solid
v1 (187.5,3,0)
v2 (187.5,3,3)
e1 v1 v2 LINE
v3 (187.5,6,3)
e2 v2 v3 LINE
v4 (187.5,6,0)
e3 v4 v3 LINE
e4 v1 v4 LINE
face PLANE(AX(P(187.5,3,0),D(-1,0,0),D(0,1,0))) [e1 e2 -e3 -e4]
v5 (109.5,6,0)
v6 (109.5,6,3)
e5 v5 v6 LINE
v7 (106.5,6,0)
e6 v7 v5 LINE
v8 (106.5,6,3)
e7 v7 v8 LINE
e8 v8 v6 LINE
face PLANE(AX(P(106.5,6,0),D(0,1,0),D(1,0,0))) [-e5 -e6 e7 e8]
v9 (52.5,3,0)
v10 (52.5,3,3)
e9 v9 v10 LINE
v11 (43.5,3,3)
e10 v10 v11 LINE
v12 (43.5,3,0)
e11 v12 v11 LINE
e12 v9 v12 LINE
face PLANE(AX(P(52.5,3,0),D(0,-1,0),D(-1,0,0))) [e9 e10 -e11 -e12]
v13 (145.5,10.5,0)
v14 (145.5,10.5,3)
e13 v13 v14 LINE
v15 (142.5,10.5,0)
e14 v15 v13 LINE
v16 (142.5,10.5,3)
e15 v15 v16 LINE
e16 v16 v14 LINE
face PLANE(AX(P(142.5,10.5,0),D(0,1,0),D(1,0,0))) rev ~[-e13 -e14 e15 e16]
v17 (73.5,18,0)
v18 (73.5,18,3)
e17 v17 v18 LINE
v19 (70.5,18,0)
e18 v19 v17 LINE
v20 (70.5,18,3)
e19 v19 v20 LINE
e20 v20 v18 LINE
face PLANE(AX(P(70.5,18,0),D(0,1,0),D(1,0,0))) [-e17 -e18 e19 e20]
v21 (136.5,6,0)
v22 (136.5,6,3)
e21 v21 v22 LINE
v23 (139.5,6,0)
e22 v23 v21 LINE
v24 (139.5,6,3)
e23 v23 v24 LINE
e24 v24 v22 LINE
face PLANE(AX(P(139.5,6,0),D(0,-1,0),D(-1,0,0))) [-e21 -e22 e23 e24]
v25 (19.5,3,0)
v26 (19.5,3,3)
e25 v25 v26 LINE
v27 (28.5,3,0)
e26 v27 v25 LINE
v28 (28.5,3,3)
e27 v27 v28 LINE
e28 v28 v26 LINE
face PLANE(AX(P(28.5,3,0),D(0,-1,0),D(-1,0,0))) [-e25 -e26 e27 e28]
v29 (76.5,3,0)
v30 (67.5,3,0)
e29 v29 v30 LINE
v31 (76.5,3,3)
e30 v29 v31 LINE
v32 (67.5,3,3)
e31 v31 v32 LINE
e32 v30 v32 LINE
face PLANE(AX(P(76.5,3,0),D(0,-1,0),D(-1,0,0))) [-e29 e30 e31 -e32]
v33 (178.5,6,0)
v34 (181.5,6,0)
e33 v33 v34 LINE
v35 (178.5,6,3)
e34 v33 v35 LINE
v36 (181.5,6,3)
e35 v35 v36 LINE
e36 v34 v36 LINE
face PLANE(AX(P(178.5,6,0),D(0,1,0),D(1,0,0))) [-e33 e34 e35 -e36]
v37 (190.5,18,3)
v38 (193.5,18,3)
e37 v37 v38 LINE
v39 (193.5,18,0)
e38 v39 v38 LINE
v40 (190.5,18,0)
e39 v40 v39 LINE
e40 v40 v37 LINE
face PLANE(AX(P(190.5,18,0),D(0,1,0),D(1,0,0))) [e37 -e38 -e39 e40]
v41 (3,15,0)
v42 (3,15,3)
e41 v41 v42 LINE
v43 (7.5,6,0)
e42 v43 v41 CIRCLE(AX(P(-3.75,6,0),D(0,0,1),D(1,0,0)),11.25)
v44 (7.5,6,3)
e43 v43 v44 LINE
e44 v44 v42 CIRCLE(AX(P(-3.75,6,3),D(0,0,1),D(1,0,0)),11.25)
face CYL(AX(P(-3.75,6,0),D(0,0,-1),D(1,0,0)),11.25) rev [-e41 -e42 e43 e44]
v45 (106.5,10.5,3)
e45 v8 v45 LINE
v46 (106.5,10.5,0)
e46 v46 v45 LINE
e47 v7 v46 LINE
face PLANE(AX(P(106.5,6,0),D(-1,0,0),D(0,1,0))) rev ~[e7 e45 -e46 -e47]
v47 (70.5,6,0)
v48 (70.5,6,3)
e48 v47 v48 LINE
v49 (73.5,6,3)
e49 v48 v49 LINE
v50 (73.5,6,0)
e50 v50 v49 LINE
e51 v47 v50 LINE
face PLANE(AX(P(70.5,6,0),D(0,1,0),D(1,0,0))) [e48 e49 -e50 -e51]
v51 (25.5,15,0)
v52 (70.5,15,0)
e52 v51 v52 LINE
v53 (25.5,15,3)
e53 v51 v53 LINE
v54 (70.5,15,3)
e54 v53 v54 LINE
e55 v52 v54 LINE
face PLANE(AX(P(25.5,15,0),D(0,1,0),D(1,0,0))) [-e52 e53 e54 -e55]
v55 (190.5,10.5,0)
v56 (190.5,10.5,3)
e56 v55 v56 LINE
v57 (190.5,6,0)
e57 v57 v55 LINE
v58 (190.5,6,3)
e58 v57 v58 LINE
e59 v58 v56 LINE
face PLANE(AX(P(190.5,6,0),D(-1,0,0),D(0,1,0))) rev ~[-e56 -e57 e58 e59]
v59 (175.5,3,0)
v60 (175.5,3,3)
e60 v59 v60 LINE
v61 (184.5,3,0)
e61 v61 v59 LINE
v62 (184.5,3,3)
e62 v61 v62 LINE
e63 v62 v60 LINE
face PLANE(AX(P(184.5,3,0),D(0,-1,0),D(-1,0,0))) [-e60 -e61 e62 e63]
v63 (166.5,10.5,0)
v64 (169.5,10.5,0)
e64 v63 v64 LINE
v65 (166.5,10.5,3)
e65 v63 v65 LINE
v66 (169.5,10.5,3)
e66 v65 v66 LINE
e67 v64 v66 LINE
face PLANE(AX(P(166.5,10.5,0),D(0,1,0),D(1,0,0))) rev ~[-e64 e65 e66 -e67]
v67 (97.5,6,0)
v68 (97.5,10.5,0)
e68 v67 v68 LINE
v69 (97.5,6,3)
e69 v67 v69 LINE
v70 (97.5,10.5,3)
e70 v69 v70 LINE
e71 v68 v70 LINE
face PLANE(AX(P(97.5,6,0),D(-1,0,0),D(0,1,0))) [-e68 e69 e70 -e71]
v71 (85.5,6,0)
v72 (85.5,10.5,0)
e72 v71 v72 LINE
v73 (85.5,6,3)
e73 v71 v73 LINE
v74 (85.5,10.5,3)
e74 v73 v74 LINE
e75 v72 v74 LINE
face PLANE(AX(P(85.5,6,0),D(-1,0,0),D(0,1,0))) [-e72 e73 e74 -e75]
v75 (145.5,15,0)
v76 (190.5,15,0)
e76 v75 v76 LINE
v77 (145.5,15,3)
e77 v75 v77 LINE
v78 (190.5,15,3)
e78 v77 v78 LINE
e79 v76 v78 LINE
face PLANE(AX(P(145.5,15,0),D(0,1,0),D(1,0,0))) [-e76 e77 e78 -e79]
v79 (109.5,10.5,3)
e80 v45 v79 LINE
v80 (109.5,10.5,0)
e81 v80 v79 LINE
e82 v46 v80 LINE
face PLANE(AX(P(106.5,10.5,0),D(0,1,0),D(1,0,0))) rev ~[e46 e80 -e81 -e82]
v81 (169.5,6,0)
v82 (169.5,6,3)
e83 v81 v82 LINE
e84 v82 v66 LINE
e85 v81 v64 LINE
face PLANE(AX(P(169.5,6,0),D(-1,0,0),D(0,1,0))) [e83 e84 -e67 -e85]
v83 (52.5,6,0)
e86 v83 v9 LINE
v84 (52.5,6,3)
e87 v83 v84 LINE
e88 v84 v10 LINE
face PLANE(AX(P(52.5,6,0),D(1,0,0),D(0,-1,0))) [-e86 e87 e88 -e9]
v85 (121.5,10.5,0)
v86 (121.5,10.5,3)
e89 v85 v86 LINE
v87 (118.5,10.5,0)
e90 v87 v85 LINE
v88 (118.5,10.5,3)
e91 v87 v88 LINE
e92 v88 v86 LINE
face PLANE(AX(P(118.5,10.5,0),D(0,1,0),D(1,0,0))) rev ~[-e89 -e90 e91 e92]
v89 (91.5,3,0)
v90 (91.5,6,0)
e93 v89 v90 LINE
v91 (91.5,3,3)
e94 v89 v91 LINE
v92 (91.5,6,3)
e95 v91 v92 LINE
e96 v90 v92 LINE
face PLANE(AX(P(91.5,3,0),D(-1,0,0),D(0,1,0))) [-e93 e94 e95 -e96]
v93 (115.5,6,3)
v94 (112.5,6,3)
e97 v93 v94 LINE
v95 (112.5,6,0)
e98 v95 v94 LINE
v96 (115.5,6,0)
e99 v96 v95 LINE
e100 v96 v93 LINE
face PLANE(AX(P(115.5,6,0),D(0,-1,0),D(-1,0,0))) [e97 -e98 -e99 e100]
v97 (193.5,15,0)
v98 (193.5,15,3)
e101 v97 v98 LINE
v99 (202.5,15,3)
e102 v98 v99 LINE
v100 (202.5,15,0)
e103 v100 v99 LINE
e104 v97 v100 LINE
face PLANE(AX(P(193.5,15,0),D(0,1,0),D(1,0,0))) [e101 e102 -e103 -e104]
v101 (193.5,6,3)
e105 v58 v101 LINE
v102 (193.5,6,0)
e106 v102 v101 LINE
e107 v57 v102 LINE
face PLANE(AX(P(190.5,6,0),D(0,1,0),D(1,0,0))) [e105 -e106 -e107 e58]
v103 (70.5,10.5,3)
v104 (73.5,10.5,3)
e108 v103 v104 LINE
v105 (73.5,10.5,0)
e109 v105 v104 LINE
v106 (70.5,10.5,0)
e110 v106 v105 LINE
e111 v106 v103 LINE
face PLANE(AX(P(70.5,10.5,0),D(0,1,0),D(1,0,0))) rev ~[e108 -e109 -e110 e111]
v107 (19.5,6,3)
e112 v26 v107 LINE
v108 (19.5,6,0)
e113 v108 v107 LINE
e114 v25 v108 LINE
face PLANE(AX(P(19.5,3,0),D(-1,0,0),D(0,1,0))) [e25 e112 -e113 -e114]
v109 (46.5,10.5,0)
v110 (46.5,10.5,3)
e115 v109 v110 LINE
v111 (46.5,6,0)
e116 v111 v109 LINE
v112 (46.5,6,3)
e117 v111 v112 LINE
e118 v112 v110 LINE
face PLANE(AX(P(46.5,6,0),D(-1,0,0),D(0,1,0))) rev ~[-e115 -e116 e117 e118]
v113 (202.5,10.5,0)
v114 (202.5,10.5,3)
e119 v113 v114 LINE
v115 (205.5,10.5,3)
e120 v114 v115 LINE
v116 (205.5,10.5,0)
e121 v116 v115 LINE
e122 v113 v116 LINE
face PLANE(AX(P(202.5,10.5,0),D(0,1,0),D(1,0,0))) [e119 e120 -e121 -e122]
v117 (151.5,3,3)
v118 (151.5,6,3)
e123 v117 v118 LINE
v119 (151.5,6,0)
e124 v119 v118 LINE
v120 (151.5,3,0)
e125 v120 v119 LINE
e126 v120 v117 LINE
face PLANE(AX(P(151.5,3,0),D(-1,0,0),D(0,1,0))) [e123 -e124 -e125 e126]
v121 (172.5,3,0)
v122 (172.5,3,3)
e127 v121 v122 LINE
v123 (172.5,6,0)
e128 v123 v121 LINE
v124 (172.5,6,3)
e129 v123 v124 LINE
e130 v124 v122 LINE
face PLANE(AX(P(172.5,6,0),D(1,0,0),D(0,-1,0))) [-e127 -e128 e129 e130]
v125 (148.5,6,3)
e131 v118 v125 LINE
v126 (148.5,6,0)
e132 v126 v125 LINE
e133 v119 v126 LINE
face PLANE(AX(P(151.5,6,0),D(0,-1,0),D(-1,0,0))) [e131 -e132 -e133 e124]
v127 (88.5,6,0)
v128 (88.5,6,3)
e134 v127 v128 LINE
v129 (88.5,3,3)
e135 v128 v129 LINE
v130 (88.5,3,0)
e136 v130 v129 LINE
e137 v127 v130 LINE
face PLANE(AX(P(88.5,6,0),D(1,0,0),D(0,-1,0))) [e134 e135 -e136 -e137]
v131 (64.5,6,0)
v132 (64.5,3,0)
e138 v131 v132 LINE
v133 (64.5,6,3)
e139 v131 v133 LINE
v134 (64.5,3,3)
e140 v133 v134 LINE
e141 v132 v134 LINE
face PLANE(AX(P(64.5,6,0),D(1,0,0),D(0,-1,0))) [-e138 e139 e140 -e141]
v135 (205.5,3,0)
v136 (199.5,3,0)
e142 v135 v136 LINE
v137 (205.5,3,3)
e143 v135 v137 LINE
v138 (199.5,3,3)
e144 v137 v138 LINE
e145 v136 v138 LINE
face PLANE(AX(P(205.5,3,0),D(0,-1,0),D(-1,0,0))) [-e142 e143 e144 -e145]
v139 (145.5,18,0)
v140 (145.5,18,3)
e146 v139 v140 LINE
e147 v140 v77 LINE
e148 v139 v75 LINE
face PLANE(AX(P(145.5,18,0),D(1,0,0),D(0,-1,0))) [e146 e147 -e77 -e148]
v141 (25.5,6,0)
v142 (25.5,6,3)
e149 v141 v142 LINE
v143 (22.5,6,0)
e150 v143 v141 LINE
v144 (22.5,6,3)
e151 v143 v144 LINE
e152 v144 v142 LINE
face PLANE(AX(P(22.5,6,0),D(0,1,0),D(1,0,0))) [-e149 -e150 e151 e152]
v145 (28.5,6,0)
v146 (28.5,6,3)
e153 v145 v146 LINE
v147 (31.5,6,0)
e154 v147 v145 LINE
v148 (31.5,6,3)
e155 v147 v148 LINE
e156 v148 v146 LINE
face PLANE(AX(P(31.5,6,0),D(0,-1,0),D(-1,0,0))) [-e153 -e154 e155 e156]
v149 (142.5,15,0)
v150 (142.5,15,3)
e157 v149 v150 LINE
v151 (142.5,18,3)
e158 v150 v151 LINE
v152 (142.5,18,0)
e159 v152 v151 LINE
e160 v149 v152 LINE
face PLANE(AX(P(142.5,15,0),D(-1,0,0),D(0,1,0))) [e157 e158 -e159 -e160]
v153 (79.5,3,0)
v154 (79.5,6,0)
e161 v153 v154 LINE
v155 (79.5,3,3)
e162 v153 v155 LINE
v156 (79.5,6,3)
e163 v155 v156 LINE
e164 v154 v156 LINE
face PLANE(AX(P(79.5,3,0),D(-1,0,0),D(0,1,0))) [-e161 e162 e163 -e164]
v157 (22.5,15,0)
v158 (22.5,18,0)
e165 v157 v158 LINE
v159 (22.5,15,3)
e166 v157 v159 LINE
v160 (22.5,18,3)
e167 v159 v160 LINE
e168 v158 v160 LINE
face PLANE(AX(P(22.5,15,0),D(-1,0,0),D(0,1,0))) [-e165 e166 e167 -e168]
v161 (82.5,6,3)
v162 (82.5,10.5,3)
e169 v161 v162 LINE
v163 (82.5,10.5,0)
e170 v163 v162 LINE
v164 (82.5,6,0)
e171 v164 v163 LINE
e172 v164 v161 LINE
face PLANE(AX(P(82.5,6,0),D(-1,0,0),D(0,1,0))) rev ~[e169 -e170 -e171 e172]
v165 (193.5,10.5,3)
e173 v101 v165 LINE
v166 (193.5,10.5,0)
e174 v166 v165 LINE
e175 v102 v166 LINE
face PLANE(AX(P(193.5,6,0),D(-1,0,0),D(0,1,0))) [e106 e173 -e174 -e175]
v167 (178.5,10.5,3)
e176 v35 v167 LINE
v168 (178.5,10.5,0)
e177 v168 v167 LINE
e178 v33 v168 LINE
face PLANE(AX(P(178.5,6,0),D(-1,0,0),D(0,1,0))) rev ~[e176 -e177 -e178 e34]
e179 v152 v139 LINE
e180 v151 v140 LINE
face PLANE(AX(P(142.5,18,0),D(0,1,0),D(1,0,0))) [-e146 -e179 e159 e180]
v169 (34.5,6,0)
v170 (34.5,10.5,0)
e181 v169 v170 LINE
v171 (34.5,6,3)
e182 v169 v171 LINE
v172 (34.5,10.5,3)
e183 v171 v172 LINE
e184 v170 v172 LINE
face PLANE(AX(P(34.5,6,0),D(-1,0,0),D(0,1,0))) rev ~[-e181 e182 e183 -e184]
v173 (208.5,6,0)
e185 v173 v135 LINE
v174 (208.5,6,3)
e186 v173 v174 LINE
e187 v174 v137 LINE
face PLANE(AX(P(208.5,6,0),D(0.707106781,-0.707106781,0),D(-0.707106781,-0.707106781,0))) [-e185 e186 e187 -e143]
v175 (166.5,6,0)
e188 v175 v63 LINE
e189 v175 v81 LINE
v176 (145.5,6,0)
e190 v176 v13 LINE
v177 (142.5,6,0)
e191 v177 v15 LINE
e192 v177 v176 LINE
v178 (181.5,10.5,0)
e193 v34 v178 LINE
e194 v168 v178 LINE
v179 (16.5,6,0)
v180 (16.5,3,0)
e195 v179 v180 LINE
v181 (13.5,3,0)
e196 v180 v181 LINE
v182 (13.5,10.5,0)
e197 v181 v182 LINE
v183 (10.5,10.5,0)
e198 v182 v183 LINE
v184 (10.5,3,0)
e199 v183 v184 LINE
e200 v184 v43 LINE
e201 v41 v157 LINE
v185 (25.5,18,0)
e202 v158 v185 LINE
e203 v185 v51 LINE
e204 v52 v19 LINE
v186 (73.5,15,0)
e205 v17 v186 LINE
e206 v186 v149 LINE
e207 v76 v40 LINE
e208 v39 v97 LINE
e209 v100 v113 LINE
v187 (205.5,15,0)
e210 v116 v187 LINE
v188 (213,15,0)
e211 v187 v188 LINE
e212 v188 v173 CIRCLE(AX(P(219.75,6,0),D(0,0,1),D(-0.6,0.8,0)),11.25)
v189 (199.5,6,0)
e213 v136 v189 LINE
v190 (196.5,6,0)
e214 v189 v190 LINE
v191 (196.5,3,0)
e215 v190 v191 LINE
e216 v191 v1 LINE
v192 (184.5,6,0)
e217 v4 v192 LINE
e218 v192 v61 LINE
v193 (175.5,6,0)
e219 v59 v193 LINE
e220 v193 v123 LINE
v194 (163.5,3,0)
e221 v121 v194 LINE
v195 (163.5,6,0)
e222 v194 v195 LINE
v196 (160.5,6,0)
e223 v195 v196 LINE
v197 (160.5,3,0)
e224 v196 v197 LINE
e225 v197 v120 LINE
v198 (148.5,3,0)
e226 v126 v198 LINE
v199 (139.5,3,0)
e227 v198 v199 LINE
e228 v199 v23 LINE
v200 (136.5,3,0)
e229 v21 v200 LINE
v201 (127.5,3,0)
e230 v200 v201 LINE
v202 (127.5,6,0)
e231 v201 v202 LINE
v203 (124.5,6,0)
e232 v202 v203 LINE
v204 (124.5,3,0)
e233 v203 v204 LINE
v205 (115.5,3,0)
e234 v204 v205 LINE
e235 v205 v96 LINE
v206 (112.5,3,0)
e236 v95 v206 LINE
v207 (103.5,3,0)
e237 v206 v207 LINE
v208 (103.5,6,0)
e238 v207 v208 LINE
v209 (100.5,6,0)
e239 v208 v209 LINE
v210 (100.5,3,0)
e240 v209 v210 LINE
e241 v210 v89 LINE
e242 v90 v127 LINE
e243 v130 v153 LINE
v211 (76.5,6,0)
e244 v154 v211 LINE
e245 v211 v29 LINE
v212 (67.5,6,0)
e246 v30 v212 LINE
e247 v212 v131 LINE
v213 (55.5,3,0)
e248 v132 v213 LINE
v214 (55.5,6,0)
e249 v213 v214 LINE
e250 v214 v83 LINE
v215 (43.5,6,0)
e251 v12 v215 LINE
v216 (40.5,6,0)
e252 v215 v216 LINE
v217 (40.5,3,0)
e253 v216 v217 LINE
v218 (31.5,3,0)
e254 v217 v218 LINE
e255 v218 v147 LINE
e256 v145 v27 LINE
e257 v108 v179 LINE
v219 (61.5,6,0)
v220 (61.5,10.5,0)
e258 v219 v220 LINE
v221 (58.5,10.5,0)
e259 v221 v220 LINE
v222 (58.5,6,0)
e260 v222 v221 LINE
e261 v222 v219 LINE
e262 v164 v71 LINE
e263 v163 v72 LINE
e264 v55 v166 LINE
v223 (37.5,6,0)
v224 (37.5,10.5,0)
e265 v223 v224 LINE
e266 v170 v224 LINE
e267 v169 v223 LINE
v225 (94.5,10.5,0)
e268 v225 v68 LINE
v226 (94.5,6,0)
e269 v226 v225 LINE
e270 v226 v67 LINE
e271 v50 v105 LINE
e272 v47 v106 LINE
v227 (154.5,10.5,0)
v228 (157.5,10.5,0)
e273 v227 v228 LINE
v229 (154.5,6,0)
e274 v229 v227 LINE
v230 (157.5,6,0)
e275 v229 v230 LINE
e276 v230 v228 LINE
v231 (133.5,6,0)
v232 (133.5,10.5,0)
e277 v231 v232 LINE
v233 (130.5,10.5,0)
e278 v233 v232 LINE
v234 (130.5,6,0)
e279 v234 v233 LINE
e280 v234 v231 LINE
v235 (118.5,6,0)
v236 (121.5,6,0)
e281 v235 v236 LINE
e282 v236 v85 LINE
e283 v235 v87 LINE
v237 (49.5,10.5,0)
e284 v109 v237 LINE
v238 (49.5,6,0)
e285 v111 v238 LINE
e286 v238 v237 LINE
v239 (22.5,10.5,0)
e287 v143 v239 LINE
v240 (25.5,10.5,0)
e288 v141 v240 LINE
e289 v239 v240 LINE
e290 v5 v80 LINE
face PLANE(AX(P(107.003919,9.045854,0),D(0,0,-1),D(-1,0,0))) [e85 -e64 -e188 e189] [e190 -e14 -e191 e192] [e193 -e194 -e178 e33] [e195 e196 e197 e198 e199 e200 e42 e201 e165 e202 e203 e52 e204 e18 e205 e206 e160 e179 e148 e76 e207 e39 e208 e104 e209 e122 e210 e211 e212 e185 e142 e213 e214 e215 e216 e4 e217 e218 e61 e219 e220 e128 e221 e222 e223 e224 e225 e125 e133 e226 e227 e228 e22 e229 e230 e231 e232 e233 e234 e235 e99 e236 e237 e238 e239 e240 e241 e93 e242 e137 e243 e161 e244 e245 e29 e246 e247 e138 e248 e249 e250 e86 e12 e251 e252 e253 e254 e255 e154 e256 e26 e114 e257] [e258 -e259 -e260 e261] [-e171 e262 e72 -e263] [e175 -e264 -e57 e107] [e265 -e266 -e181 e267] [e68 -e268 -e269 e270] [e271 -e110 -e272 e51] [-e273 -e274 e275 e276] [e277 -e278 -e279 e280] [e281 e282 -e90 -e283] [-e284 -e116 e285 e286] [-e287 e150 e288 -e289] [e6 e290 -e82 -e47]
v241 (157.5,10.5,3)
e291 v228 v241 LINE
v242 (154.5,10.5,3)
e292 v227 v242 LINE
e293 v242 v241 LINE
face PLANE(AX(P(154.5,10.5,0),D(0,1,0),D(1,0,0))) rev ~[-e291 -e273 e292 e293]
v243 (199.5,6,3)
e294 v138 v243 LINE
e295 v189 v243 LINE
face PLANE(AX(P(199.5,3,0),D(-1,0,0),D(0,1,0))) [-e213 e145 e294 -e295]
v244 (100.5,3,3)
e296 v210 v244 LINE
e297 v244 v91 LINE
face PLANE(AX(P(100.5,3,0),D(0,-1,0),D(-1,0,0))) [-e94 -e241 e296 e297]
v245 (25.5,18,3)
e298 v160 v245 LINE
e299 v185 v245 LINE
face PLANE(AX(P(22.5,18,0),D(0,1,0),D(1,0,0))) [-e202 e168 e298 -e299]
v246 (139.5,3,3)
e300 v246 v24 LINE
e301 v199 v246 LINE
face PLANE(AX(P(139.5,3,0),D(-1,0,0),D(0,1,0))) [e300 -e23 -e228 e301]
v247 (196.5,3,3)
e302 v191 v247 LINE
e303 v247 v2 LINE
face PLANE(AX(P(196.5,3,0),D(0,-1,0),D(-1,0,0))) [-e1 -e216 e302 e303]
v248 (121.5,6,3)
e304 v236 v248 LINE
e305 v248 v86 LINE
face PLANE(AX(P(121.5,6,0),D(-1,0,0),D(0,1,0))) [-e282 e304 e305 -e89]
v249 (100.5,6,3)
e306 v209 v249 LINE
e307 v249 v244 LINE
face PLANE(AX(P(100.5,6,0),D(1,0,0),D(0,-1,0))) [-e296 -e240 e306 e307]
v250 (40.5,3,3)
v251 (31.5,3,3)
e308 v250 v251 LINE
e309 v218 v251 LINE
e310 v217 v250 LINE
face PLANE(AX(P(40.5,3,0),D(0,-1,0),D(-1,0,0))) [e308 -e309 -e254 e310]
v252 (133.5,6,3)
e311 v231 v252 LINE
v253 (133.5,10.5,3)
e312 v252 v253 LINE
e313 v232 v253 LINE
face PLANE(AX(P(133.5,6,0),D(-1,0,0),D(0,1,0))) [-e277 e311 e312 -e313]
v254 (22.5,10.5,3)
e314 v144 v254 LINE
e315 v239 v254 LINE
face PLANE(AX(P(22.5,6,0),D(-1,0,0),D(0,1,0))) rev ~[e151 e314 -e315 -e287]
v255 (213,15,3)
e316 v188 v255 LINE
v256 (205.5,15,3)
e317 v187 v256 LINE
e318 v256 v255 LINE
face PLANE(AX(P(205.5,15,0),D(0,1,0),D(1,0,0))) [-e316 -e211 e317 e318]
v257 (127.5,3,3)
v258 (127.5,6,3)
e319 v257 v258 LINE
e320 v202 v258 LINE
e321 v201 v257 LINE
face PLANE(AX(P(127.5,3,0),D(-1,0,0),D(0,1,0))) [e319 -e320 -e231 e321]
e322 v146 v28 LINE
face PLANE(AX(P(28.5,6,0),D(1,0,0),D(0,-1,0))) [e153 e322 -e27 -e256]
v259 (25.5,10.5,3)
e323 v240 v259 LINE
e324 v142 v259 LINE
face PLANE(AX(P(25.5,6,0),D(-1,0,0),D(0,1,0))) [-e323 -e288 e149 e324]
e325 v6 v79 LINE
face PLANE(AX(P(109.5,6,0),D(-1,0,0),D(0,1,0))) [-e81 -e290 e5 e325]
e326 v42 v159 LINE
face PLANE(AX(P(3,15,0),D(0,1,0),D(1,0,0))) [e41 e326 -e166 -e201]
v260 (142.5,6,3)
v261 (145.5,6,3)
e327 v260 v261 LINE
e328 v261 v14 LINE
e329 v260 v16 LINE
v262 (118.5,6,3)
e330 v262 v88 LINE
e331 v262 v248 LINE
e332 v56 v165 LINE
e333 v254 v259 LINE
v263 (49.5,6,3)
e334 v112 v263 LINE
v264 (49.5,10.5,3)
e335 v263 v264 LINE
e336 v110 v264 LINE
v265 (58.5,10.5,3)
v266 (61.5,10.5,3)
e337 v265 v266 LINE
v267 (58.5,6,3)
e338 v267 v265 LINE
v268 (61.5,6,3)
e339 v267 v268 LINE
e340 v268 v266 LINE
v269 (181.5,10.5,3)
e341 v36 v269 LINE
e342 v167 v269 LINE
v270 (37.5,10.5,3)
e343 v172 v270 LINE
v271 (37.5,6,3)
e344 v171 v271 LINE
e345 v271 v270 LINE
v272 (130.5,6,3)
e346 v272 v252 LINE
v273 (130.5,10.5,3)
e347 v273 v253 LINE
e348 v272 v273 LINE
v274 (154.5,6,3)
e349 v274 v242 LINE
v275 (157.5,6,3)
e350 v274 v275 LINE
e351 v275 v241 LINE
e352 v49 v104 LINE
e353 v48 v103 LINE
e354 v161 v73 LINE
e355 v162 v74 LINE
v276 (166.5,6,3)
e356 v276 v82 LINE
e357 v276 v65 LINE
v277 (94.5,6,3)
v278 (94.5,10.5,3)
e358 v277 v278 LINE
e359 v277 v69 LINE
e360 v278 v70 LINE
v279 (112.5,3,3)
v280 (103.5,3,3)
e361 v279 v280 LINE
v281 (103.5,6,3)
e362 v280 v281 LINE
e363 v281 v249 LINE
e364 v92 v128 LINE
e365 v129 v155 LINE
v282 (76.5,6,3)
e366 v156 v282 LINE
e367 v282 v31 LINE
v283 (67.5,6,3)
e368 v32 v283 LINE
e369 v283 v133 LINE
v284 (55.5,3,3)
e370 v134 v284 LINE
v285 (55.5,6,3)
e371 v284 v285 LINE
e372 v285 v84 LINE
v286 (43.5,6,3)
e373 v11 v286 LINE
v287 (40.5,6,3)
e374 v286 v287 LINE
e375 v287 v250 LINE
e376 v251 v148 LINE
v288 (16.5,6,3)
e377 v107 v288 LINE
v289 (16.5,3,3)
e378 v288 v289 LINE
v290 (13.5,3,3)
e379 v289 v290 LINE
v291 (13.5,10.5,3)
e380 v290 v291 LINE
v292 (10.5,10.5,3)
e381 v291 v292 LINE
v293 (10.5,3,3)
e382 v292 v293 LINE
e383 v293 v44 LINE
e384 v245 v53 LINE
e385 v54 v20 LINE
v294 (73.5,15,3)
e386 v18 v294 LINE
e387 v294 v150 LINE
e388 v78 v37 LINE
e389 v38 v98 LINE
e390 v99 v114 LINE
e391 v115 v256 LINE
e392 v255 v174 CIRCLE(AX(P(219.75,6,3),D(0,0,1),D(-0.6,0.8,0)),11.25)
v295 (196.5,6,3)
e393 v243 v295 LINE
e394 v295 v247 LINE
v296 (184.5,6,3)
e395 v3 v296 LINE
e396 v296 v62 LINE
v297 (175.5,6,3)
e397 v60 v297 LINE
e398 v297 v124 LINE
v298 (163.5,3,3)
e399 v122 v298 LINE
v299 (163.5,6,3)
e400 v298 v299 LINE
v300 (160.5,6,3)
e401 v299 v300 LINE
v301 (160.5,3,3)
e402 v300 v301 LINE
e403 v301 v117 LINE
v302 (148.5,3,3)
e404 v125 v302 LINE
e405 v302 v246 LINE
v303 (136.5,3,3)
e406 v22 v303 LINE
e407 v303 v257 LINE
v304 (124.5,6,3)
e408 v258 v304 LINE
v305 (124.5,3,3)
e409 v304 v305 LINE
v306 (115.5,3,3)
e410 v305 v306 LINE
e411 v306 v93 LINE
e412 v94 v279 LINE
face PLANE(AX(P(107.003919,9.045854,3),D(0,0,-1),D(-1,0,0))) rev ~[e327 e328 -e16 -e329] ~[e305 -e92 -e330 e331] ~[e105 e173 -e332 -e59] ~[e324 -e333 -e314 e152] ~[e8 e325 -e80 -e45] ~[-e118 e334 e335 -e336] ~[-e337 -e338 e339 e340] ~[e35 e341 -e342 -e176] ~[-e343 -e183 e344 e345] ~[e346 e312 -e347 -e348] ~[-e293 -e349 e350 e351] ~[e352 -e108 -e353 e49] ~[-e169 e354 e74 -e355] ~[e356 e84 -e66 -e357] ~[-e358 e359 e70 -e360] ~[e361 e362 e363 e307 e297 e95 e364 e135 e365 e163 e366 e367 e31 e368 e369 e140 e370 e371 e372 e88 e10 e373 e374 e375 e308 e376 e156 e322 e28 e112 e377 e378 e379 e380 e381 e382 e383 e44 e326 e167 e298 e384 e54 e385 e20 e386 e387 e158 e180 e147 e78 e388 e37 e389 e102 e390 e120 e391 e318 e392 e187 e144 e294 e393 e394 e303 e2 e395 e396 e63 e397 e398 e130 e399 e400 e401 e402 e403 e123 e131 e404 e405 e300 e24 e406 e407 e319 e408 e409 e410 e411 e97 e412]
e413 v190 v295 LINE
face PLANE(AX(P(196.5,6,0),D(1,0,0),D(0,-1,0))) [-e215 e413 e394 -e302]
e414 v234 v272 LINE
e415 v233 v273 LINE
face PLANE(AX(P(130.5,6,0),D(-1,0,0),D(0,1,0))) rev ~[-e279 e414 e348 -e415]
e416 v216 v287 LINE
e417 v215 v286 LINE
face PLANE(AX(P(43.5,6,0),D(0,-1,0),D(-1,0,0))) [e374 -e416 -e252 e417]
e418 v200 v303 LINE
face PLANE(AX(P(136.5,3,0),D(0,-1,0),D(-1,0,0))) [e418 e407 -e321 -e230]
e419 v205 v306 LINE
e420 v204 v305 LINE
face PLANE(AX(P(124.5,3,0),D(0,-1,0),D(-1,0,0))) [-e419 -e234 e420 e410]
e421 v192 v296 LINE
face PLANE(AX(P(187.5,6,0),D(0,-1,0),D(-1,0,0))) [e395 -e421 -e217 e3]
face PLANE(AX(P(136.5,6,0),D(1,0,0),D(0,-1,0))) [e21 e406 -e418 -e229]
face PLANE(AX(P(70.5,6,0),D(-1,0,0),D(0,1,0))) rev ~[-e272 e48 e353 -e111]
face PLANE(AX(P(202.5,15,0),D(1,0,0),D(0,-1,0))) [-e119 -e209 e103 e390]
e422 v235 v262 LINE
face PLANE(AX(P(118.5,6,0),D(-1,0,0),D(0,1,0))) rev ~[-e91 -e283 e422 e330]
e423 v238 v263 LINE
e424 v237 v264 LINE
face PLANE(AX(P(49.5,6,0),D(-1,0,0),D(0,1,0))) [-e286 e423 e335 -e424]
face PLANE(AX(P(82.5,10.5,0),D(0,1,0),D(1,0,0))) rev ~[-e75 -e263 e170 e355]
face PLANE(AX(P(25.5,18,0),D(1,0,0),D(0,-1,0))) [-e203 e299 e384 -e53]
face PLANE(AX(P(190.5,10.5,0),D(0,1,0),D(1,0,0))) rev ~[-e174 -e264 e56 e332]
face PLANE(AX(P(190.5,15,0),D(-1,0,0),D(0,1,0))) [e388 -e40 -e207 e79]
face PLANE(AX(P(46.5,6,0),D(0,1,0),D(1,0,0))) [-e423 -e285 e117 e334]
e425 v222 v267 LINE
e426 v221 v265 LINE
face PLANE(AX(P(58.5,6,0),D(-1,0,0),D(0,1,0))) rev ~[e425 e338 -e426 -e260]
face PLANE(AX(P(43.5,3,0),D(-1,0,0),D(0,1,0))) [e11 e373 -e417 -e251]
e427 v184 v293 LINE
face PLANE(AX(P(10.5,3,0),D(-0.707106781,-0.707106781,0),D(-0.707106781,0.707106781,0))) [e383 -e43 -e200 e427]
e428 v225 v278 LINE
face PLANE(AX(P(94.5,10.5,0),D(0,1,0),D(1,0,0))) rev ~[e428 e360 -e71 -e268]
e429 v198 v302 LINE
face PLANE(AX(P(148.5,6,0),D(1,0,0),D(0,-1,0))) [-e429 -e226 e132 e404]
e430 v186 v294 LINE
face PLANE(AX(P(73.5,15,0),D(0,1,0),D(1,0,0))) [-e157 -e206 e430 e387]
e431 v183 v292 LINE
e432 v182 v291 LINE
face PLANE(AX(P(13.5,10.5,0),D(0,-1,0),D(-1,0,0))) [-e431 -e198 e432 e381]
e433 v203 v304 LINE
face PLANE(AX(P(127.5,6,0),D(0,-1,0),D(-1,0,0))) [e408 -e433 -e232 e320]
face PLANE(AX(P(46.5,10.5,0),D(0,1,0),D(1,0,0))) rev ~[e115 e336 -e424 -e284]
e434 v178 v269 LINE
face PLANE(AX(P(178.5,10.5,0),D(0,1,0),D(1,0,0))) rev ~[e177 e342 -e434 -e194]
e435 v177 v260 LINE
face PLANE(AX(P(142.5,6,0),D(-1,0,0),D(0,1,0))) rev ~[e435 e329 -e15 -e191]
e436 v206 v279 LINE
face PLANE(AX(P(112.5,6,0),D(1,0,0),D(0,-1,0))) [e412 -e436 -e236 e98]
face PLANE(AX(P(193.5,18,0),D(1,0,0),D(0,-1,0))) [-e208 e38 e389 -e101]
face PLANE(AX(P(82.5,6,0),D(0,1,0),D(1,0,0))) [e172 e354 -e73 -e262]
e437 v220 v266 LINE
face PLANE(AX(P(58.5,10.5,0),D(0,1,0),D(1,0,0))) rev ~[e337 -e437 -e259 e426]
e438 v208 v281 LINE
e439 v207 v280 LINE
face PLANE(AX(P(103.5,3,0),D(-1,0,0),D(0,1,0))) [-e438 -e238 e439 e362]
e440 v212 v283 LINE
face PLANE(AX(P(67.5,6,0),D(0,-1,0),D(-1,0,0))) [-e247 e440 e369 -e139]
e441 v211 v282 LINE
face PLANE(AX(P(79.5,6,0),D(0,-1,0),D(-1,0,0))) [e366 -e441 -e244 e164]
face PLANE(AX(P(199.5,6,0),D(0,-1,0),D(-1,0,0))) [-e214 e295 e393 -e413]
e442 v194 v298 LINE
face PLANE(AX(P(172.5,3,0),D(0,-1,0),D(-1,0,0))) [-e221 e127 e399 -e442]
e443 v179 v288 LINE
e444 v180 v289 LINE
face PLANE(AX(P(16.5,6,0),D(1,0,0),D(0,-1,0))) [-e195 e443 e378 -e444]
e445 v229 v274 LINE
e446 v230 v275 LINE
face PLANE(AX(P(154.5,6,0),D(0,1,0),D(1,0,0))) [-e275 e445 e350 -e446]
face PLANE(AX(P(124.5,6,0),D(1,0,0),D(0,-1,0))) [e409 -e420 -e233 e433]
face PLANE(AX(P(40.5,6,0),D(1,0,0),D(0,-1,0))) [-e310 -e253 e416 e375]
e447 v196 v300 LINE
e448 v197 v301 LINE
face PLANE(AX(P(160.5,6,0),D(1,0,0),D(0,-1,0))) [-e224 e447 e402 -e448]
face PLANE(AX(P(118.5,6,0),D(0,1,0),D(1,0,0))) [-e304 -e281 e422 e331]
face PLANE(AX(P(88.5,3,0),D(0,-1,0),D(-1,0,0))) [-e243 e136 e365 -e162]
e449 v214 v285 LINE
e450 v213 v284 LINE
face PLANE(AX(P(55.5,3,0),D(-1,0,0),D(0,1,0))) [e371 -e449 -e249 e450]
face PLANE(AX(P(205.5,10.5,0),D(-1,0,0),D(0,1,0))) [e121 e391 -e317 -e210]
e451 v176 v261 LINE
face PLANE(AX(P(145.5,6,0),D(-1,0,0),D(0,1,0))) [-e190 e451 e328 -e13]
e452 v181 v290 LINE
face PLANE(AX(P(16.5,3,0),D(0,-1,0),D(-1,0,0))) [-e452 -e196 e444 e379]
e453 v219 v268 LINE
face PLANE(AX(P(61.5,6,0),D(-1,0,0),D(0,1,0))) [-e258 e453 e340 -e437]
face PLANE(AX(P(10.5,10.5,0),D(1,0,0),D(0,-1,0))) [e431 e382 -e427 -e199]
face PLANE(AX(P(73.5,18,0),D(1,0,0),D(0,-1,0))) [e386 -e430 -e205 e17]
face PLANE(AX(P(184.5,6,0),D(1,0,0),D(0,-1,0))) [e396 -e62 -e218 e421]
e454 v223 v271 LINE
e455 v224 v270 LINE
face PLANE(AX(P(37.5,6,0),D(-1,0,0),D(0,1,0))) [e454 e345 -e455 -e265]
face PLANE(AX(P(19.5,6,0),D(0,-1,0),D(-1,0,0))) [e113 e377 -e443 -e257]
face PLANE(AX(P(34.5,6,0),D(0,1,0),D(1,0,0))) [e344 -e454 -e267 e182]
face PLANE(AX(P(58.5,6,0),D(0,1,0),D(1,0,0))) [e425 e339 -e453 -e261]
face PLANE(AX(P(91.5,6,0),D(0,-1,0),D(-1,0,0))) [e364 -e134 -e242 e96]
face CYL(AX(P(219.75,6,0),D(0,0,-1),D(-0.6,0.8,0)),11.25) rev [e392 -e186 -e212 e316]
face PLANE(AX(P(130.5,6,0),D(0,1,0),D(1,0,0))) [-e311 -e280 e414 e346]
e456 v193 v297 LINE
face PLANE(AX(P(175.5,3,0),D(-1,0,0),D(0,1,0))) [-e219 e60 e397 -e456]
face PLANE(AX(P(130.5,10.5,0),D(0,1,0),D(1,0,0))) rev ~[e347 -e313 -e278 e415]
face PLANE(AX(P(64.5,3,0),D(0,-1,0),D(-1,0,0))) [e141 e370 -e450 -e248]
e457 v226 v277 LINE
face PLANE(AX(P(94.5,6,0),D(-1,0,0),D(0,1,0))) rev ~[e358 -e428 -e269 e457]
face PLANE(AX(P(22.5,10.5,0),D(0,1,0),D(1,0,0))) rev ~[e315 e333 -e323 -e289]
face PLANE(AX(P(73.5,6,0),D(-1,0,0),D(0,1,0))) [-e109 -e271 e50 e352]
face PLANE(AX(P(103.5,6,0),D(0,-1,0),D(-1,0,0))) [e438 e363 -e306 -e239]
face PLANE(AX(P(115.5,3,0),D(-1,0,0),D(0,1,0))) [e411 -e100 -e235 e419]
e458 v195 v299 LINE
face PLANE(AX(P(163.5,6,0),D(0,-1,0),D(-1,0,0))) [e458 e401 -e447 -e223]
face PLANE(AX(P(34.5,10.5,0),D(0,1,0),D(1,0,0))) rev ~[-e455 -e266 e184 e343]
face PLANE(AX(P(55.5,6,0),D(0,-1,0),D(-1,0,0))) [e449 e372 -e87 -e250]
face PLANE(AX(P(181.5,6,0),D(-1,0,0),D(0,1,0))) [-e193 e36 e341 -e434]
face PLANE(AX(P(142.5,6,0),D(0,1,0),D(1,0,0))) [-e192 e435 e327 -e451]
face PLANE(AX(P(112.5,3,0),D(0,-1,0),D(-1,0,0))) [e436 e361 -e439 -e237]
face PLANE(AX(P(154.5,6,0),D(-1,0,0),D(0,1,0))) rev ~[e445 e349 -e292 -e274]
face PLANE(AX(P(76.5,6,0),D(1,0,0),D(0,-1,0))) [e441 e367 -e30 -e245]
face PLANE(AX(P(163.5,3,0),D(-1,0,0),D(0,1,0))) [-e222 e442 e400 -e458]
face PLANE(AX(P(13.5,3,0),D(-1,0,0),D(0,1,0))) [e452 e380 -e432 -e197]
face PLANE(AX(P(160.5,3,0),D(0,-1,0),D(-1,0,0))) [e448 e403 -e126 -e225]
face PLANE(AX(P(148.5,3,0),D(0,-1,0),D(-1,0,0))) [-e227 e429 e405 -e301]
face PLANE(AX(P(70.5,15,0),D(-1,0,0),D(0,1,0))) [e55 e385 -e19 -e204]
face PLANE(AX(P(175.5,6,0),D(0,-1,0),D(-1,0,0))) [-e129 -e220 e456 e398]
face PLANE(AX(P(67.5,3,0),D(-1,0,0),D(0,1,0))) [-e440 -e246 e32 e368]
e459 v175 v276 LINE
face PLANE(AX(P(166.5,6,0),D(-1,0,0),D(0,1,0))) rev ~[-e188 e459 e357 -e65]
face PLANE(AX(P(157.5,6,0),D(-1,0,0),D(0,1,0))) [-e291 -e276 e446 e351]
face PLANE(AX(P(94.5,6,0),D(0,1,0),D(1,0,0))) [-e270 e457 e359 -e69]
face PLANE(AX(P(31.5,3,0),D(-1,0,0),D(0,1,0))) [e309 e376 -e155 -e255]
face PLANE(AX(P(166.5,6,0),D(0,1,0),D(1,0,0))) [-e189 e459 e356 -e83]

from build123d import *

# Parameters (mm, degrees)
SKETCH1_W           = 3
SKETCH1_H           = 4.5
BOSS_EXTRUDE1_DEPTH = 3


with BuildPart() as part:
    # Sketch1 → Boss-Extrude1 (new body)
    with BuildSketch(Plane.XY):
        with BuildLine():
            Line((187.5, 3), (187.5, 6))
            Line((187.5, 6), (184.5, 6))
            Line((184.5, 6), (184.5, 3))
            Line((184.5, 3), (175.5, 3))
            Line((175.5, 3), (175.5, 6))
            Line((175.5, 6), (172.5, 6))
            Line((172.5, 6), (172.5, 3))
            Line((172.5, 3), (163.5, 3))
            Line((163.5, 3), (163.5, 6))
            Line((163.5, 6), (160.5, 6))
            Line((160.5, 6), (160.5, 3))
            Line((160.5, 3), (151.5, 3))
            Line((151.5, 3), (151.5, 6))
            Line((151.5, 6), (148.5, 6))
            Line((148.5, 6), (148.5, 3))
            Line((148.5, 3), (139.5, 3))
            Line((139.5, 3), (139.5, 6))
            Line((139.5, 6), (136.5, 6))
            Line((136.5, 6), (136.5, 3))
            Line((136.5, 3), (127.5, 3))
            Line((127.5, 3), (127.5, 6))
            Line((127.5, 6), (124.5, 6))
            Line((124.5, 6), (124.5, 3))
            Line((124.5, 3), (115.5, 3))
            Line((115.5, 3), (115.5, 6))
            Line((115.5, 6), (112.5, 6))
            Line((112.5, 6), (112.5, 3))
            Line((112.5, 3), (103.5, 3))
            Line((103.5, 3), (103.5, 6))
            Line((103.5, 6), (100.5, 6))
            Line((100.5, 6), (100.5, 3))
            Line((100.5, 3), (91.5, 3))
            Line((91.5, 3), (91.5, 6))
            Line((91.5, 6), (88.5, 6))
            Line((88.5, 6), (88.5, 3))
            Line((88.5, 3), (79.5, 3))
            Line((79.5, 3), (79.5, 6))
            Line((79.5, 6), (76.5, 6))
            Line((76.5, 6), (76.5, 3))
            Line((76.5, 3), (67.5, 3))
            Line((67.5, 3), (67.5, 6))
            Line((67.5, 6), (64.5, 6))
            Line((64.5, 6), (64.5, 3))
            Line((64.5, 3), (55.5, 3))
            Line((55.5, 3), (55.5, 6))
            Line((55.5, 6), (52.5, 6))
            Line((52.5, 6), (52.5, 3))
            Line((52.5, 3), (43.5, 3))
            Line((43.5, 3), (43.5, 6))
            Line((43.5, 6), (40.5, 6))
            Line((40.5, 6), (40.5, 3))
            Line((40.5, 3), (31.5, 3))
            Line((31.5, 3), (31.5, 6))
            Line((31.5, 6), (28.5, 6))
            Line((28.5, 6), (28.5, 3))
            Line((28.5, 3), (19.5, 3))
            Line((19.5, 3), (19.5, 6))
            Line((19.5, 6), (16.5, 6))
            Line((16.5, 6), (16.5, 3))
            Line((16.5, 3), (13.5, 3))
            Line((13.5, 3), (13.5, 10.5))
            Line((13.5, 10.5), (10.5, 10.5))
            Line((10.5, 10.5), (10.5, 3))
            Line((10.5, 3), (7.5, 6))
            ThreePointArc((7.5, 6), (6.312305899, 11.031152949), (3, 15))
            Line((3, 15), (22.5, 15))
            Line((22.5, 15), (22.5, 18))
            Line((22.5, 18), (25.5, 18))
            Line((25.5, 18), (25.5, 15))
            Line((25.5, 15), (70.5, 15))
            Line((70.5, 15), (70.5, 18))
            Line((70.5, 18), (73.5, 18))
            Line((73.5, 18), (73.5, 15))
            Line((73.5, 15), (142.5, 15))
            Line((142.5, 15), (142.5, 18))
            Line((142.5, 18), (145.5, 18))
            Line((145.5, 18), (145.5, 15))
            Line((145.5, 15), (190.5, 15))
            Line((190.5, 15), (190.5, 18))
            Line((190.5, 18), (193.5, 18))
            Line((193.5, 18), (193.5, 15))
            Line((193.5, 15), (202.5, 15))
            Line((202.5, 15), (202.5, 10.5))
            Line((202.5, 10.5), (205.5, 10.5))
            Line((205.5, 10.5), (205.5, 15))
            Line((205.5, 15), (213, 15))
            ThreePointArc((213, 15), (209.687694101, 11.031152949), (208.5, 6))
            Line((208.5, 6), (205.5, 3))
            Line((205.5, 3), (199.5, 3))
            Line((199.5, 3), (199.5, 6))
            Line((199.5, 6), (196.5, 6))
            Line((196.5, 6), (196.5, 3))
            Line((196.5, 3), (187.5, 3))
        make_face()
        with Locations((24, 8.25)):
            Rectangle(SKETCH1_W, SKETCH1_H, mode=Mode.SUBTRACT)
        with Locations((36, 8.25)):
            Rectangle(SKETCH1_W, SKETCH1_H, mode=Mode.SUBTRACT)
        with Locations((48, 8.25)):
            Rectangle(SKETCH1_W, SKETCH1_H, mode=Mode.SUBTRACT)
        with Locations((60, 8.25)):
            Rectangle(SKETCH1_W, SKETCH1_H, mode=Mode.SUBTRACT)
        with Locations((72, 8.25)):
            Rectangle(SKETCH1_W, SKETCH1_H, mode=Mode.SUBTRACT)
        with Locations((84, 8.25)):
            Rectangle(SKETCH1_W, SKETCH1_H, mode=Mode.SUBTRACT)
        with Locations((96, 8.25)):
            Rectangle(SKETCH1_W, SKETCH1_H, mode=Mode.SUBTRACT)
        with Locations((108, 8.25)):
            Rectangle(SKETCH1_W, SKETCH1_H, mode=Mode.SUBTRACT)
        with Locations((120, 8.25)):
            Rectangle(SKETCH1_W, SKETCH1_H, mode=Mode.SUBTRACT)
        with Locations((132, 8.25)):
            Rectangle(SKETCH1_W, SKETCH1_H, mode=Mode.SUBTRACT)
        with Locations((144, 8.25)):
            Rectangle(SKETCH1_W, SKETCH1_H, mode=Mode.SUBTRACT)
        with Locations((156, 8.25)):
            Rectangle(SKETCH1_W, SKETCH1_H, mode=Mode.SUBTRACT)
        with Locations((168, 8.25)):
            Rectangle(SKETCH1_W, SKETCH1_H, mode=Mode.SUBTRACT)
        with Locations((180, 8.25)):
            Rectangle(SKETCH1_W, SKETCH1_H, mode=Mode.SUBTRACT)
        with Locations((192, 8.25)):
            Rectangle(SKETCH1_W, SKETCH1_H, mode=Mode.SUBTRACT)
    extrude(amount=BOSS_EXTRUDE1_DEPTH)


solid = part.part
